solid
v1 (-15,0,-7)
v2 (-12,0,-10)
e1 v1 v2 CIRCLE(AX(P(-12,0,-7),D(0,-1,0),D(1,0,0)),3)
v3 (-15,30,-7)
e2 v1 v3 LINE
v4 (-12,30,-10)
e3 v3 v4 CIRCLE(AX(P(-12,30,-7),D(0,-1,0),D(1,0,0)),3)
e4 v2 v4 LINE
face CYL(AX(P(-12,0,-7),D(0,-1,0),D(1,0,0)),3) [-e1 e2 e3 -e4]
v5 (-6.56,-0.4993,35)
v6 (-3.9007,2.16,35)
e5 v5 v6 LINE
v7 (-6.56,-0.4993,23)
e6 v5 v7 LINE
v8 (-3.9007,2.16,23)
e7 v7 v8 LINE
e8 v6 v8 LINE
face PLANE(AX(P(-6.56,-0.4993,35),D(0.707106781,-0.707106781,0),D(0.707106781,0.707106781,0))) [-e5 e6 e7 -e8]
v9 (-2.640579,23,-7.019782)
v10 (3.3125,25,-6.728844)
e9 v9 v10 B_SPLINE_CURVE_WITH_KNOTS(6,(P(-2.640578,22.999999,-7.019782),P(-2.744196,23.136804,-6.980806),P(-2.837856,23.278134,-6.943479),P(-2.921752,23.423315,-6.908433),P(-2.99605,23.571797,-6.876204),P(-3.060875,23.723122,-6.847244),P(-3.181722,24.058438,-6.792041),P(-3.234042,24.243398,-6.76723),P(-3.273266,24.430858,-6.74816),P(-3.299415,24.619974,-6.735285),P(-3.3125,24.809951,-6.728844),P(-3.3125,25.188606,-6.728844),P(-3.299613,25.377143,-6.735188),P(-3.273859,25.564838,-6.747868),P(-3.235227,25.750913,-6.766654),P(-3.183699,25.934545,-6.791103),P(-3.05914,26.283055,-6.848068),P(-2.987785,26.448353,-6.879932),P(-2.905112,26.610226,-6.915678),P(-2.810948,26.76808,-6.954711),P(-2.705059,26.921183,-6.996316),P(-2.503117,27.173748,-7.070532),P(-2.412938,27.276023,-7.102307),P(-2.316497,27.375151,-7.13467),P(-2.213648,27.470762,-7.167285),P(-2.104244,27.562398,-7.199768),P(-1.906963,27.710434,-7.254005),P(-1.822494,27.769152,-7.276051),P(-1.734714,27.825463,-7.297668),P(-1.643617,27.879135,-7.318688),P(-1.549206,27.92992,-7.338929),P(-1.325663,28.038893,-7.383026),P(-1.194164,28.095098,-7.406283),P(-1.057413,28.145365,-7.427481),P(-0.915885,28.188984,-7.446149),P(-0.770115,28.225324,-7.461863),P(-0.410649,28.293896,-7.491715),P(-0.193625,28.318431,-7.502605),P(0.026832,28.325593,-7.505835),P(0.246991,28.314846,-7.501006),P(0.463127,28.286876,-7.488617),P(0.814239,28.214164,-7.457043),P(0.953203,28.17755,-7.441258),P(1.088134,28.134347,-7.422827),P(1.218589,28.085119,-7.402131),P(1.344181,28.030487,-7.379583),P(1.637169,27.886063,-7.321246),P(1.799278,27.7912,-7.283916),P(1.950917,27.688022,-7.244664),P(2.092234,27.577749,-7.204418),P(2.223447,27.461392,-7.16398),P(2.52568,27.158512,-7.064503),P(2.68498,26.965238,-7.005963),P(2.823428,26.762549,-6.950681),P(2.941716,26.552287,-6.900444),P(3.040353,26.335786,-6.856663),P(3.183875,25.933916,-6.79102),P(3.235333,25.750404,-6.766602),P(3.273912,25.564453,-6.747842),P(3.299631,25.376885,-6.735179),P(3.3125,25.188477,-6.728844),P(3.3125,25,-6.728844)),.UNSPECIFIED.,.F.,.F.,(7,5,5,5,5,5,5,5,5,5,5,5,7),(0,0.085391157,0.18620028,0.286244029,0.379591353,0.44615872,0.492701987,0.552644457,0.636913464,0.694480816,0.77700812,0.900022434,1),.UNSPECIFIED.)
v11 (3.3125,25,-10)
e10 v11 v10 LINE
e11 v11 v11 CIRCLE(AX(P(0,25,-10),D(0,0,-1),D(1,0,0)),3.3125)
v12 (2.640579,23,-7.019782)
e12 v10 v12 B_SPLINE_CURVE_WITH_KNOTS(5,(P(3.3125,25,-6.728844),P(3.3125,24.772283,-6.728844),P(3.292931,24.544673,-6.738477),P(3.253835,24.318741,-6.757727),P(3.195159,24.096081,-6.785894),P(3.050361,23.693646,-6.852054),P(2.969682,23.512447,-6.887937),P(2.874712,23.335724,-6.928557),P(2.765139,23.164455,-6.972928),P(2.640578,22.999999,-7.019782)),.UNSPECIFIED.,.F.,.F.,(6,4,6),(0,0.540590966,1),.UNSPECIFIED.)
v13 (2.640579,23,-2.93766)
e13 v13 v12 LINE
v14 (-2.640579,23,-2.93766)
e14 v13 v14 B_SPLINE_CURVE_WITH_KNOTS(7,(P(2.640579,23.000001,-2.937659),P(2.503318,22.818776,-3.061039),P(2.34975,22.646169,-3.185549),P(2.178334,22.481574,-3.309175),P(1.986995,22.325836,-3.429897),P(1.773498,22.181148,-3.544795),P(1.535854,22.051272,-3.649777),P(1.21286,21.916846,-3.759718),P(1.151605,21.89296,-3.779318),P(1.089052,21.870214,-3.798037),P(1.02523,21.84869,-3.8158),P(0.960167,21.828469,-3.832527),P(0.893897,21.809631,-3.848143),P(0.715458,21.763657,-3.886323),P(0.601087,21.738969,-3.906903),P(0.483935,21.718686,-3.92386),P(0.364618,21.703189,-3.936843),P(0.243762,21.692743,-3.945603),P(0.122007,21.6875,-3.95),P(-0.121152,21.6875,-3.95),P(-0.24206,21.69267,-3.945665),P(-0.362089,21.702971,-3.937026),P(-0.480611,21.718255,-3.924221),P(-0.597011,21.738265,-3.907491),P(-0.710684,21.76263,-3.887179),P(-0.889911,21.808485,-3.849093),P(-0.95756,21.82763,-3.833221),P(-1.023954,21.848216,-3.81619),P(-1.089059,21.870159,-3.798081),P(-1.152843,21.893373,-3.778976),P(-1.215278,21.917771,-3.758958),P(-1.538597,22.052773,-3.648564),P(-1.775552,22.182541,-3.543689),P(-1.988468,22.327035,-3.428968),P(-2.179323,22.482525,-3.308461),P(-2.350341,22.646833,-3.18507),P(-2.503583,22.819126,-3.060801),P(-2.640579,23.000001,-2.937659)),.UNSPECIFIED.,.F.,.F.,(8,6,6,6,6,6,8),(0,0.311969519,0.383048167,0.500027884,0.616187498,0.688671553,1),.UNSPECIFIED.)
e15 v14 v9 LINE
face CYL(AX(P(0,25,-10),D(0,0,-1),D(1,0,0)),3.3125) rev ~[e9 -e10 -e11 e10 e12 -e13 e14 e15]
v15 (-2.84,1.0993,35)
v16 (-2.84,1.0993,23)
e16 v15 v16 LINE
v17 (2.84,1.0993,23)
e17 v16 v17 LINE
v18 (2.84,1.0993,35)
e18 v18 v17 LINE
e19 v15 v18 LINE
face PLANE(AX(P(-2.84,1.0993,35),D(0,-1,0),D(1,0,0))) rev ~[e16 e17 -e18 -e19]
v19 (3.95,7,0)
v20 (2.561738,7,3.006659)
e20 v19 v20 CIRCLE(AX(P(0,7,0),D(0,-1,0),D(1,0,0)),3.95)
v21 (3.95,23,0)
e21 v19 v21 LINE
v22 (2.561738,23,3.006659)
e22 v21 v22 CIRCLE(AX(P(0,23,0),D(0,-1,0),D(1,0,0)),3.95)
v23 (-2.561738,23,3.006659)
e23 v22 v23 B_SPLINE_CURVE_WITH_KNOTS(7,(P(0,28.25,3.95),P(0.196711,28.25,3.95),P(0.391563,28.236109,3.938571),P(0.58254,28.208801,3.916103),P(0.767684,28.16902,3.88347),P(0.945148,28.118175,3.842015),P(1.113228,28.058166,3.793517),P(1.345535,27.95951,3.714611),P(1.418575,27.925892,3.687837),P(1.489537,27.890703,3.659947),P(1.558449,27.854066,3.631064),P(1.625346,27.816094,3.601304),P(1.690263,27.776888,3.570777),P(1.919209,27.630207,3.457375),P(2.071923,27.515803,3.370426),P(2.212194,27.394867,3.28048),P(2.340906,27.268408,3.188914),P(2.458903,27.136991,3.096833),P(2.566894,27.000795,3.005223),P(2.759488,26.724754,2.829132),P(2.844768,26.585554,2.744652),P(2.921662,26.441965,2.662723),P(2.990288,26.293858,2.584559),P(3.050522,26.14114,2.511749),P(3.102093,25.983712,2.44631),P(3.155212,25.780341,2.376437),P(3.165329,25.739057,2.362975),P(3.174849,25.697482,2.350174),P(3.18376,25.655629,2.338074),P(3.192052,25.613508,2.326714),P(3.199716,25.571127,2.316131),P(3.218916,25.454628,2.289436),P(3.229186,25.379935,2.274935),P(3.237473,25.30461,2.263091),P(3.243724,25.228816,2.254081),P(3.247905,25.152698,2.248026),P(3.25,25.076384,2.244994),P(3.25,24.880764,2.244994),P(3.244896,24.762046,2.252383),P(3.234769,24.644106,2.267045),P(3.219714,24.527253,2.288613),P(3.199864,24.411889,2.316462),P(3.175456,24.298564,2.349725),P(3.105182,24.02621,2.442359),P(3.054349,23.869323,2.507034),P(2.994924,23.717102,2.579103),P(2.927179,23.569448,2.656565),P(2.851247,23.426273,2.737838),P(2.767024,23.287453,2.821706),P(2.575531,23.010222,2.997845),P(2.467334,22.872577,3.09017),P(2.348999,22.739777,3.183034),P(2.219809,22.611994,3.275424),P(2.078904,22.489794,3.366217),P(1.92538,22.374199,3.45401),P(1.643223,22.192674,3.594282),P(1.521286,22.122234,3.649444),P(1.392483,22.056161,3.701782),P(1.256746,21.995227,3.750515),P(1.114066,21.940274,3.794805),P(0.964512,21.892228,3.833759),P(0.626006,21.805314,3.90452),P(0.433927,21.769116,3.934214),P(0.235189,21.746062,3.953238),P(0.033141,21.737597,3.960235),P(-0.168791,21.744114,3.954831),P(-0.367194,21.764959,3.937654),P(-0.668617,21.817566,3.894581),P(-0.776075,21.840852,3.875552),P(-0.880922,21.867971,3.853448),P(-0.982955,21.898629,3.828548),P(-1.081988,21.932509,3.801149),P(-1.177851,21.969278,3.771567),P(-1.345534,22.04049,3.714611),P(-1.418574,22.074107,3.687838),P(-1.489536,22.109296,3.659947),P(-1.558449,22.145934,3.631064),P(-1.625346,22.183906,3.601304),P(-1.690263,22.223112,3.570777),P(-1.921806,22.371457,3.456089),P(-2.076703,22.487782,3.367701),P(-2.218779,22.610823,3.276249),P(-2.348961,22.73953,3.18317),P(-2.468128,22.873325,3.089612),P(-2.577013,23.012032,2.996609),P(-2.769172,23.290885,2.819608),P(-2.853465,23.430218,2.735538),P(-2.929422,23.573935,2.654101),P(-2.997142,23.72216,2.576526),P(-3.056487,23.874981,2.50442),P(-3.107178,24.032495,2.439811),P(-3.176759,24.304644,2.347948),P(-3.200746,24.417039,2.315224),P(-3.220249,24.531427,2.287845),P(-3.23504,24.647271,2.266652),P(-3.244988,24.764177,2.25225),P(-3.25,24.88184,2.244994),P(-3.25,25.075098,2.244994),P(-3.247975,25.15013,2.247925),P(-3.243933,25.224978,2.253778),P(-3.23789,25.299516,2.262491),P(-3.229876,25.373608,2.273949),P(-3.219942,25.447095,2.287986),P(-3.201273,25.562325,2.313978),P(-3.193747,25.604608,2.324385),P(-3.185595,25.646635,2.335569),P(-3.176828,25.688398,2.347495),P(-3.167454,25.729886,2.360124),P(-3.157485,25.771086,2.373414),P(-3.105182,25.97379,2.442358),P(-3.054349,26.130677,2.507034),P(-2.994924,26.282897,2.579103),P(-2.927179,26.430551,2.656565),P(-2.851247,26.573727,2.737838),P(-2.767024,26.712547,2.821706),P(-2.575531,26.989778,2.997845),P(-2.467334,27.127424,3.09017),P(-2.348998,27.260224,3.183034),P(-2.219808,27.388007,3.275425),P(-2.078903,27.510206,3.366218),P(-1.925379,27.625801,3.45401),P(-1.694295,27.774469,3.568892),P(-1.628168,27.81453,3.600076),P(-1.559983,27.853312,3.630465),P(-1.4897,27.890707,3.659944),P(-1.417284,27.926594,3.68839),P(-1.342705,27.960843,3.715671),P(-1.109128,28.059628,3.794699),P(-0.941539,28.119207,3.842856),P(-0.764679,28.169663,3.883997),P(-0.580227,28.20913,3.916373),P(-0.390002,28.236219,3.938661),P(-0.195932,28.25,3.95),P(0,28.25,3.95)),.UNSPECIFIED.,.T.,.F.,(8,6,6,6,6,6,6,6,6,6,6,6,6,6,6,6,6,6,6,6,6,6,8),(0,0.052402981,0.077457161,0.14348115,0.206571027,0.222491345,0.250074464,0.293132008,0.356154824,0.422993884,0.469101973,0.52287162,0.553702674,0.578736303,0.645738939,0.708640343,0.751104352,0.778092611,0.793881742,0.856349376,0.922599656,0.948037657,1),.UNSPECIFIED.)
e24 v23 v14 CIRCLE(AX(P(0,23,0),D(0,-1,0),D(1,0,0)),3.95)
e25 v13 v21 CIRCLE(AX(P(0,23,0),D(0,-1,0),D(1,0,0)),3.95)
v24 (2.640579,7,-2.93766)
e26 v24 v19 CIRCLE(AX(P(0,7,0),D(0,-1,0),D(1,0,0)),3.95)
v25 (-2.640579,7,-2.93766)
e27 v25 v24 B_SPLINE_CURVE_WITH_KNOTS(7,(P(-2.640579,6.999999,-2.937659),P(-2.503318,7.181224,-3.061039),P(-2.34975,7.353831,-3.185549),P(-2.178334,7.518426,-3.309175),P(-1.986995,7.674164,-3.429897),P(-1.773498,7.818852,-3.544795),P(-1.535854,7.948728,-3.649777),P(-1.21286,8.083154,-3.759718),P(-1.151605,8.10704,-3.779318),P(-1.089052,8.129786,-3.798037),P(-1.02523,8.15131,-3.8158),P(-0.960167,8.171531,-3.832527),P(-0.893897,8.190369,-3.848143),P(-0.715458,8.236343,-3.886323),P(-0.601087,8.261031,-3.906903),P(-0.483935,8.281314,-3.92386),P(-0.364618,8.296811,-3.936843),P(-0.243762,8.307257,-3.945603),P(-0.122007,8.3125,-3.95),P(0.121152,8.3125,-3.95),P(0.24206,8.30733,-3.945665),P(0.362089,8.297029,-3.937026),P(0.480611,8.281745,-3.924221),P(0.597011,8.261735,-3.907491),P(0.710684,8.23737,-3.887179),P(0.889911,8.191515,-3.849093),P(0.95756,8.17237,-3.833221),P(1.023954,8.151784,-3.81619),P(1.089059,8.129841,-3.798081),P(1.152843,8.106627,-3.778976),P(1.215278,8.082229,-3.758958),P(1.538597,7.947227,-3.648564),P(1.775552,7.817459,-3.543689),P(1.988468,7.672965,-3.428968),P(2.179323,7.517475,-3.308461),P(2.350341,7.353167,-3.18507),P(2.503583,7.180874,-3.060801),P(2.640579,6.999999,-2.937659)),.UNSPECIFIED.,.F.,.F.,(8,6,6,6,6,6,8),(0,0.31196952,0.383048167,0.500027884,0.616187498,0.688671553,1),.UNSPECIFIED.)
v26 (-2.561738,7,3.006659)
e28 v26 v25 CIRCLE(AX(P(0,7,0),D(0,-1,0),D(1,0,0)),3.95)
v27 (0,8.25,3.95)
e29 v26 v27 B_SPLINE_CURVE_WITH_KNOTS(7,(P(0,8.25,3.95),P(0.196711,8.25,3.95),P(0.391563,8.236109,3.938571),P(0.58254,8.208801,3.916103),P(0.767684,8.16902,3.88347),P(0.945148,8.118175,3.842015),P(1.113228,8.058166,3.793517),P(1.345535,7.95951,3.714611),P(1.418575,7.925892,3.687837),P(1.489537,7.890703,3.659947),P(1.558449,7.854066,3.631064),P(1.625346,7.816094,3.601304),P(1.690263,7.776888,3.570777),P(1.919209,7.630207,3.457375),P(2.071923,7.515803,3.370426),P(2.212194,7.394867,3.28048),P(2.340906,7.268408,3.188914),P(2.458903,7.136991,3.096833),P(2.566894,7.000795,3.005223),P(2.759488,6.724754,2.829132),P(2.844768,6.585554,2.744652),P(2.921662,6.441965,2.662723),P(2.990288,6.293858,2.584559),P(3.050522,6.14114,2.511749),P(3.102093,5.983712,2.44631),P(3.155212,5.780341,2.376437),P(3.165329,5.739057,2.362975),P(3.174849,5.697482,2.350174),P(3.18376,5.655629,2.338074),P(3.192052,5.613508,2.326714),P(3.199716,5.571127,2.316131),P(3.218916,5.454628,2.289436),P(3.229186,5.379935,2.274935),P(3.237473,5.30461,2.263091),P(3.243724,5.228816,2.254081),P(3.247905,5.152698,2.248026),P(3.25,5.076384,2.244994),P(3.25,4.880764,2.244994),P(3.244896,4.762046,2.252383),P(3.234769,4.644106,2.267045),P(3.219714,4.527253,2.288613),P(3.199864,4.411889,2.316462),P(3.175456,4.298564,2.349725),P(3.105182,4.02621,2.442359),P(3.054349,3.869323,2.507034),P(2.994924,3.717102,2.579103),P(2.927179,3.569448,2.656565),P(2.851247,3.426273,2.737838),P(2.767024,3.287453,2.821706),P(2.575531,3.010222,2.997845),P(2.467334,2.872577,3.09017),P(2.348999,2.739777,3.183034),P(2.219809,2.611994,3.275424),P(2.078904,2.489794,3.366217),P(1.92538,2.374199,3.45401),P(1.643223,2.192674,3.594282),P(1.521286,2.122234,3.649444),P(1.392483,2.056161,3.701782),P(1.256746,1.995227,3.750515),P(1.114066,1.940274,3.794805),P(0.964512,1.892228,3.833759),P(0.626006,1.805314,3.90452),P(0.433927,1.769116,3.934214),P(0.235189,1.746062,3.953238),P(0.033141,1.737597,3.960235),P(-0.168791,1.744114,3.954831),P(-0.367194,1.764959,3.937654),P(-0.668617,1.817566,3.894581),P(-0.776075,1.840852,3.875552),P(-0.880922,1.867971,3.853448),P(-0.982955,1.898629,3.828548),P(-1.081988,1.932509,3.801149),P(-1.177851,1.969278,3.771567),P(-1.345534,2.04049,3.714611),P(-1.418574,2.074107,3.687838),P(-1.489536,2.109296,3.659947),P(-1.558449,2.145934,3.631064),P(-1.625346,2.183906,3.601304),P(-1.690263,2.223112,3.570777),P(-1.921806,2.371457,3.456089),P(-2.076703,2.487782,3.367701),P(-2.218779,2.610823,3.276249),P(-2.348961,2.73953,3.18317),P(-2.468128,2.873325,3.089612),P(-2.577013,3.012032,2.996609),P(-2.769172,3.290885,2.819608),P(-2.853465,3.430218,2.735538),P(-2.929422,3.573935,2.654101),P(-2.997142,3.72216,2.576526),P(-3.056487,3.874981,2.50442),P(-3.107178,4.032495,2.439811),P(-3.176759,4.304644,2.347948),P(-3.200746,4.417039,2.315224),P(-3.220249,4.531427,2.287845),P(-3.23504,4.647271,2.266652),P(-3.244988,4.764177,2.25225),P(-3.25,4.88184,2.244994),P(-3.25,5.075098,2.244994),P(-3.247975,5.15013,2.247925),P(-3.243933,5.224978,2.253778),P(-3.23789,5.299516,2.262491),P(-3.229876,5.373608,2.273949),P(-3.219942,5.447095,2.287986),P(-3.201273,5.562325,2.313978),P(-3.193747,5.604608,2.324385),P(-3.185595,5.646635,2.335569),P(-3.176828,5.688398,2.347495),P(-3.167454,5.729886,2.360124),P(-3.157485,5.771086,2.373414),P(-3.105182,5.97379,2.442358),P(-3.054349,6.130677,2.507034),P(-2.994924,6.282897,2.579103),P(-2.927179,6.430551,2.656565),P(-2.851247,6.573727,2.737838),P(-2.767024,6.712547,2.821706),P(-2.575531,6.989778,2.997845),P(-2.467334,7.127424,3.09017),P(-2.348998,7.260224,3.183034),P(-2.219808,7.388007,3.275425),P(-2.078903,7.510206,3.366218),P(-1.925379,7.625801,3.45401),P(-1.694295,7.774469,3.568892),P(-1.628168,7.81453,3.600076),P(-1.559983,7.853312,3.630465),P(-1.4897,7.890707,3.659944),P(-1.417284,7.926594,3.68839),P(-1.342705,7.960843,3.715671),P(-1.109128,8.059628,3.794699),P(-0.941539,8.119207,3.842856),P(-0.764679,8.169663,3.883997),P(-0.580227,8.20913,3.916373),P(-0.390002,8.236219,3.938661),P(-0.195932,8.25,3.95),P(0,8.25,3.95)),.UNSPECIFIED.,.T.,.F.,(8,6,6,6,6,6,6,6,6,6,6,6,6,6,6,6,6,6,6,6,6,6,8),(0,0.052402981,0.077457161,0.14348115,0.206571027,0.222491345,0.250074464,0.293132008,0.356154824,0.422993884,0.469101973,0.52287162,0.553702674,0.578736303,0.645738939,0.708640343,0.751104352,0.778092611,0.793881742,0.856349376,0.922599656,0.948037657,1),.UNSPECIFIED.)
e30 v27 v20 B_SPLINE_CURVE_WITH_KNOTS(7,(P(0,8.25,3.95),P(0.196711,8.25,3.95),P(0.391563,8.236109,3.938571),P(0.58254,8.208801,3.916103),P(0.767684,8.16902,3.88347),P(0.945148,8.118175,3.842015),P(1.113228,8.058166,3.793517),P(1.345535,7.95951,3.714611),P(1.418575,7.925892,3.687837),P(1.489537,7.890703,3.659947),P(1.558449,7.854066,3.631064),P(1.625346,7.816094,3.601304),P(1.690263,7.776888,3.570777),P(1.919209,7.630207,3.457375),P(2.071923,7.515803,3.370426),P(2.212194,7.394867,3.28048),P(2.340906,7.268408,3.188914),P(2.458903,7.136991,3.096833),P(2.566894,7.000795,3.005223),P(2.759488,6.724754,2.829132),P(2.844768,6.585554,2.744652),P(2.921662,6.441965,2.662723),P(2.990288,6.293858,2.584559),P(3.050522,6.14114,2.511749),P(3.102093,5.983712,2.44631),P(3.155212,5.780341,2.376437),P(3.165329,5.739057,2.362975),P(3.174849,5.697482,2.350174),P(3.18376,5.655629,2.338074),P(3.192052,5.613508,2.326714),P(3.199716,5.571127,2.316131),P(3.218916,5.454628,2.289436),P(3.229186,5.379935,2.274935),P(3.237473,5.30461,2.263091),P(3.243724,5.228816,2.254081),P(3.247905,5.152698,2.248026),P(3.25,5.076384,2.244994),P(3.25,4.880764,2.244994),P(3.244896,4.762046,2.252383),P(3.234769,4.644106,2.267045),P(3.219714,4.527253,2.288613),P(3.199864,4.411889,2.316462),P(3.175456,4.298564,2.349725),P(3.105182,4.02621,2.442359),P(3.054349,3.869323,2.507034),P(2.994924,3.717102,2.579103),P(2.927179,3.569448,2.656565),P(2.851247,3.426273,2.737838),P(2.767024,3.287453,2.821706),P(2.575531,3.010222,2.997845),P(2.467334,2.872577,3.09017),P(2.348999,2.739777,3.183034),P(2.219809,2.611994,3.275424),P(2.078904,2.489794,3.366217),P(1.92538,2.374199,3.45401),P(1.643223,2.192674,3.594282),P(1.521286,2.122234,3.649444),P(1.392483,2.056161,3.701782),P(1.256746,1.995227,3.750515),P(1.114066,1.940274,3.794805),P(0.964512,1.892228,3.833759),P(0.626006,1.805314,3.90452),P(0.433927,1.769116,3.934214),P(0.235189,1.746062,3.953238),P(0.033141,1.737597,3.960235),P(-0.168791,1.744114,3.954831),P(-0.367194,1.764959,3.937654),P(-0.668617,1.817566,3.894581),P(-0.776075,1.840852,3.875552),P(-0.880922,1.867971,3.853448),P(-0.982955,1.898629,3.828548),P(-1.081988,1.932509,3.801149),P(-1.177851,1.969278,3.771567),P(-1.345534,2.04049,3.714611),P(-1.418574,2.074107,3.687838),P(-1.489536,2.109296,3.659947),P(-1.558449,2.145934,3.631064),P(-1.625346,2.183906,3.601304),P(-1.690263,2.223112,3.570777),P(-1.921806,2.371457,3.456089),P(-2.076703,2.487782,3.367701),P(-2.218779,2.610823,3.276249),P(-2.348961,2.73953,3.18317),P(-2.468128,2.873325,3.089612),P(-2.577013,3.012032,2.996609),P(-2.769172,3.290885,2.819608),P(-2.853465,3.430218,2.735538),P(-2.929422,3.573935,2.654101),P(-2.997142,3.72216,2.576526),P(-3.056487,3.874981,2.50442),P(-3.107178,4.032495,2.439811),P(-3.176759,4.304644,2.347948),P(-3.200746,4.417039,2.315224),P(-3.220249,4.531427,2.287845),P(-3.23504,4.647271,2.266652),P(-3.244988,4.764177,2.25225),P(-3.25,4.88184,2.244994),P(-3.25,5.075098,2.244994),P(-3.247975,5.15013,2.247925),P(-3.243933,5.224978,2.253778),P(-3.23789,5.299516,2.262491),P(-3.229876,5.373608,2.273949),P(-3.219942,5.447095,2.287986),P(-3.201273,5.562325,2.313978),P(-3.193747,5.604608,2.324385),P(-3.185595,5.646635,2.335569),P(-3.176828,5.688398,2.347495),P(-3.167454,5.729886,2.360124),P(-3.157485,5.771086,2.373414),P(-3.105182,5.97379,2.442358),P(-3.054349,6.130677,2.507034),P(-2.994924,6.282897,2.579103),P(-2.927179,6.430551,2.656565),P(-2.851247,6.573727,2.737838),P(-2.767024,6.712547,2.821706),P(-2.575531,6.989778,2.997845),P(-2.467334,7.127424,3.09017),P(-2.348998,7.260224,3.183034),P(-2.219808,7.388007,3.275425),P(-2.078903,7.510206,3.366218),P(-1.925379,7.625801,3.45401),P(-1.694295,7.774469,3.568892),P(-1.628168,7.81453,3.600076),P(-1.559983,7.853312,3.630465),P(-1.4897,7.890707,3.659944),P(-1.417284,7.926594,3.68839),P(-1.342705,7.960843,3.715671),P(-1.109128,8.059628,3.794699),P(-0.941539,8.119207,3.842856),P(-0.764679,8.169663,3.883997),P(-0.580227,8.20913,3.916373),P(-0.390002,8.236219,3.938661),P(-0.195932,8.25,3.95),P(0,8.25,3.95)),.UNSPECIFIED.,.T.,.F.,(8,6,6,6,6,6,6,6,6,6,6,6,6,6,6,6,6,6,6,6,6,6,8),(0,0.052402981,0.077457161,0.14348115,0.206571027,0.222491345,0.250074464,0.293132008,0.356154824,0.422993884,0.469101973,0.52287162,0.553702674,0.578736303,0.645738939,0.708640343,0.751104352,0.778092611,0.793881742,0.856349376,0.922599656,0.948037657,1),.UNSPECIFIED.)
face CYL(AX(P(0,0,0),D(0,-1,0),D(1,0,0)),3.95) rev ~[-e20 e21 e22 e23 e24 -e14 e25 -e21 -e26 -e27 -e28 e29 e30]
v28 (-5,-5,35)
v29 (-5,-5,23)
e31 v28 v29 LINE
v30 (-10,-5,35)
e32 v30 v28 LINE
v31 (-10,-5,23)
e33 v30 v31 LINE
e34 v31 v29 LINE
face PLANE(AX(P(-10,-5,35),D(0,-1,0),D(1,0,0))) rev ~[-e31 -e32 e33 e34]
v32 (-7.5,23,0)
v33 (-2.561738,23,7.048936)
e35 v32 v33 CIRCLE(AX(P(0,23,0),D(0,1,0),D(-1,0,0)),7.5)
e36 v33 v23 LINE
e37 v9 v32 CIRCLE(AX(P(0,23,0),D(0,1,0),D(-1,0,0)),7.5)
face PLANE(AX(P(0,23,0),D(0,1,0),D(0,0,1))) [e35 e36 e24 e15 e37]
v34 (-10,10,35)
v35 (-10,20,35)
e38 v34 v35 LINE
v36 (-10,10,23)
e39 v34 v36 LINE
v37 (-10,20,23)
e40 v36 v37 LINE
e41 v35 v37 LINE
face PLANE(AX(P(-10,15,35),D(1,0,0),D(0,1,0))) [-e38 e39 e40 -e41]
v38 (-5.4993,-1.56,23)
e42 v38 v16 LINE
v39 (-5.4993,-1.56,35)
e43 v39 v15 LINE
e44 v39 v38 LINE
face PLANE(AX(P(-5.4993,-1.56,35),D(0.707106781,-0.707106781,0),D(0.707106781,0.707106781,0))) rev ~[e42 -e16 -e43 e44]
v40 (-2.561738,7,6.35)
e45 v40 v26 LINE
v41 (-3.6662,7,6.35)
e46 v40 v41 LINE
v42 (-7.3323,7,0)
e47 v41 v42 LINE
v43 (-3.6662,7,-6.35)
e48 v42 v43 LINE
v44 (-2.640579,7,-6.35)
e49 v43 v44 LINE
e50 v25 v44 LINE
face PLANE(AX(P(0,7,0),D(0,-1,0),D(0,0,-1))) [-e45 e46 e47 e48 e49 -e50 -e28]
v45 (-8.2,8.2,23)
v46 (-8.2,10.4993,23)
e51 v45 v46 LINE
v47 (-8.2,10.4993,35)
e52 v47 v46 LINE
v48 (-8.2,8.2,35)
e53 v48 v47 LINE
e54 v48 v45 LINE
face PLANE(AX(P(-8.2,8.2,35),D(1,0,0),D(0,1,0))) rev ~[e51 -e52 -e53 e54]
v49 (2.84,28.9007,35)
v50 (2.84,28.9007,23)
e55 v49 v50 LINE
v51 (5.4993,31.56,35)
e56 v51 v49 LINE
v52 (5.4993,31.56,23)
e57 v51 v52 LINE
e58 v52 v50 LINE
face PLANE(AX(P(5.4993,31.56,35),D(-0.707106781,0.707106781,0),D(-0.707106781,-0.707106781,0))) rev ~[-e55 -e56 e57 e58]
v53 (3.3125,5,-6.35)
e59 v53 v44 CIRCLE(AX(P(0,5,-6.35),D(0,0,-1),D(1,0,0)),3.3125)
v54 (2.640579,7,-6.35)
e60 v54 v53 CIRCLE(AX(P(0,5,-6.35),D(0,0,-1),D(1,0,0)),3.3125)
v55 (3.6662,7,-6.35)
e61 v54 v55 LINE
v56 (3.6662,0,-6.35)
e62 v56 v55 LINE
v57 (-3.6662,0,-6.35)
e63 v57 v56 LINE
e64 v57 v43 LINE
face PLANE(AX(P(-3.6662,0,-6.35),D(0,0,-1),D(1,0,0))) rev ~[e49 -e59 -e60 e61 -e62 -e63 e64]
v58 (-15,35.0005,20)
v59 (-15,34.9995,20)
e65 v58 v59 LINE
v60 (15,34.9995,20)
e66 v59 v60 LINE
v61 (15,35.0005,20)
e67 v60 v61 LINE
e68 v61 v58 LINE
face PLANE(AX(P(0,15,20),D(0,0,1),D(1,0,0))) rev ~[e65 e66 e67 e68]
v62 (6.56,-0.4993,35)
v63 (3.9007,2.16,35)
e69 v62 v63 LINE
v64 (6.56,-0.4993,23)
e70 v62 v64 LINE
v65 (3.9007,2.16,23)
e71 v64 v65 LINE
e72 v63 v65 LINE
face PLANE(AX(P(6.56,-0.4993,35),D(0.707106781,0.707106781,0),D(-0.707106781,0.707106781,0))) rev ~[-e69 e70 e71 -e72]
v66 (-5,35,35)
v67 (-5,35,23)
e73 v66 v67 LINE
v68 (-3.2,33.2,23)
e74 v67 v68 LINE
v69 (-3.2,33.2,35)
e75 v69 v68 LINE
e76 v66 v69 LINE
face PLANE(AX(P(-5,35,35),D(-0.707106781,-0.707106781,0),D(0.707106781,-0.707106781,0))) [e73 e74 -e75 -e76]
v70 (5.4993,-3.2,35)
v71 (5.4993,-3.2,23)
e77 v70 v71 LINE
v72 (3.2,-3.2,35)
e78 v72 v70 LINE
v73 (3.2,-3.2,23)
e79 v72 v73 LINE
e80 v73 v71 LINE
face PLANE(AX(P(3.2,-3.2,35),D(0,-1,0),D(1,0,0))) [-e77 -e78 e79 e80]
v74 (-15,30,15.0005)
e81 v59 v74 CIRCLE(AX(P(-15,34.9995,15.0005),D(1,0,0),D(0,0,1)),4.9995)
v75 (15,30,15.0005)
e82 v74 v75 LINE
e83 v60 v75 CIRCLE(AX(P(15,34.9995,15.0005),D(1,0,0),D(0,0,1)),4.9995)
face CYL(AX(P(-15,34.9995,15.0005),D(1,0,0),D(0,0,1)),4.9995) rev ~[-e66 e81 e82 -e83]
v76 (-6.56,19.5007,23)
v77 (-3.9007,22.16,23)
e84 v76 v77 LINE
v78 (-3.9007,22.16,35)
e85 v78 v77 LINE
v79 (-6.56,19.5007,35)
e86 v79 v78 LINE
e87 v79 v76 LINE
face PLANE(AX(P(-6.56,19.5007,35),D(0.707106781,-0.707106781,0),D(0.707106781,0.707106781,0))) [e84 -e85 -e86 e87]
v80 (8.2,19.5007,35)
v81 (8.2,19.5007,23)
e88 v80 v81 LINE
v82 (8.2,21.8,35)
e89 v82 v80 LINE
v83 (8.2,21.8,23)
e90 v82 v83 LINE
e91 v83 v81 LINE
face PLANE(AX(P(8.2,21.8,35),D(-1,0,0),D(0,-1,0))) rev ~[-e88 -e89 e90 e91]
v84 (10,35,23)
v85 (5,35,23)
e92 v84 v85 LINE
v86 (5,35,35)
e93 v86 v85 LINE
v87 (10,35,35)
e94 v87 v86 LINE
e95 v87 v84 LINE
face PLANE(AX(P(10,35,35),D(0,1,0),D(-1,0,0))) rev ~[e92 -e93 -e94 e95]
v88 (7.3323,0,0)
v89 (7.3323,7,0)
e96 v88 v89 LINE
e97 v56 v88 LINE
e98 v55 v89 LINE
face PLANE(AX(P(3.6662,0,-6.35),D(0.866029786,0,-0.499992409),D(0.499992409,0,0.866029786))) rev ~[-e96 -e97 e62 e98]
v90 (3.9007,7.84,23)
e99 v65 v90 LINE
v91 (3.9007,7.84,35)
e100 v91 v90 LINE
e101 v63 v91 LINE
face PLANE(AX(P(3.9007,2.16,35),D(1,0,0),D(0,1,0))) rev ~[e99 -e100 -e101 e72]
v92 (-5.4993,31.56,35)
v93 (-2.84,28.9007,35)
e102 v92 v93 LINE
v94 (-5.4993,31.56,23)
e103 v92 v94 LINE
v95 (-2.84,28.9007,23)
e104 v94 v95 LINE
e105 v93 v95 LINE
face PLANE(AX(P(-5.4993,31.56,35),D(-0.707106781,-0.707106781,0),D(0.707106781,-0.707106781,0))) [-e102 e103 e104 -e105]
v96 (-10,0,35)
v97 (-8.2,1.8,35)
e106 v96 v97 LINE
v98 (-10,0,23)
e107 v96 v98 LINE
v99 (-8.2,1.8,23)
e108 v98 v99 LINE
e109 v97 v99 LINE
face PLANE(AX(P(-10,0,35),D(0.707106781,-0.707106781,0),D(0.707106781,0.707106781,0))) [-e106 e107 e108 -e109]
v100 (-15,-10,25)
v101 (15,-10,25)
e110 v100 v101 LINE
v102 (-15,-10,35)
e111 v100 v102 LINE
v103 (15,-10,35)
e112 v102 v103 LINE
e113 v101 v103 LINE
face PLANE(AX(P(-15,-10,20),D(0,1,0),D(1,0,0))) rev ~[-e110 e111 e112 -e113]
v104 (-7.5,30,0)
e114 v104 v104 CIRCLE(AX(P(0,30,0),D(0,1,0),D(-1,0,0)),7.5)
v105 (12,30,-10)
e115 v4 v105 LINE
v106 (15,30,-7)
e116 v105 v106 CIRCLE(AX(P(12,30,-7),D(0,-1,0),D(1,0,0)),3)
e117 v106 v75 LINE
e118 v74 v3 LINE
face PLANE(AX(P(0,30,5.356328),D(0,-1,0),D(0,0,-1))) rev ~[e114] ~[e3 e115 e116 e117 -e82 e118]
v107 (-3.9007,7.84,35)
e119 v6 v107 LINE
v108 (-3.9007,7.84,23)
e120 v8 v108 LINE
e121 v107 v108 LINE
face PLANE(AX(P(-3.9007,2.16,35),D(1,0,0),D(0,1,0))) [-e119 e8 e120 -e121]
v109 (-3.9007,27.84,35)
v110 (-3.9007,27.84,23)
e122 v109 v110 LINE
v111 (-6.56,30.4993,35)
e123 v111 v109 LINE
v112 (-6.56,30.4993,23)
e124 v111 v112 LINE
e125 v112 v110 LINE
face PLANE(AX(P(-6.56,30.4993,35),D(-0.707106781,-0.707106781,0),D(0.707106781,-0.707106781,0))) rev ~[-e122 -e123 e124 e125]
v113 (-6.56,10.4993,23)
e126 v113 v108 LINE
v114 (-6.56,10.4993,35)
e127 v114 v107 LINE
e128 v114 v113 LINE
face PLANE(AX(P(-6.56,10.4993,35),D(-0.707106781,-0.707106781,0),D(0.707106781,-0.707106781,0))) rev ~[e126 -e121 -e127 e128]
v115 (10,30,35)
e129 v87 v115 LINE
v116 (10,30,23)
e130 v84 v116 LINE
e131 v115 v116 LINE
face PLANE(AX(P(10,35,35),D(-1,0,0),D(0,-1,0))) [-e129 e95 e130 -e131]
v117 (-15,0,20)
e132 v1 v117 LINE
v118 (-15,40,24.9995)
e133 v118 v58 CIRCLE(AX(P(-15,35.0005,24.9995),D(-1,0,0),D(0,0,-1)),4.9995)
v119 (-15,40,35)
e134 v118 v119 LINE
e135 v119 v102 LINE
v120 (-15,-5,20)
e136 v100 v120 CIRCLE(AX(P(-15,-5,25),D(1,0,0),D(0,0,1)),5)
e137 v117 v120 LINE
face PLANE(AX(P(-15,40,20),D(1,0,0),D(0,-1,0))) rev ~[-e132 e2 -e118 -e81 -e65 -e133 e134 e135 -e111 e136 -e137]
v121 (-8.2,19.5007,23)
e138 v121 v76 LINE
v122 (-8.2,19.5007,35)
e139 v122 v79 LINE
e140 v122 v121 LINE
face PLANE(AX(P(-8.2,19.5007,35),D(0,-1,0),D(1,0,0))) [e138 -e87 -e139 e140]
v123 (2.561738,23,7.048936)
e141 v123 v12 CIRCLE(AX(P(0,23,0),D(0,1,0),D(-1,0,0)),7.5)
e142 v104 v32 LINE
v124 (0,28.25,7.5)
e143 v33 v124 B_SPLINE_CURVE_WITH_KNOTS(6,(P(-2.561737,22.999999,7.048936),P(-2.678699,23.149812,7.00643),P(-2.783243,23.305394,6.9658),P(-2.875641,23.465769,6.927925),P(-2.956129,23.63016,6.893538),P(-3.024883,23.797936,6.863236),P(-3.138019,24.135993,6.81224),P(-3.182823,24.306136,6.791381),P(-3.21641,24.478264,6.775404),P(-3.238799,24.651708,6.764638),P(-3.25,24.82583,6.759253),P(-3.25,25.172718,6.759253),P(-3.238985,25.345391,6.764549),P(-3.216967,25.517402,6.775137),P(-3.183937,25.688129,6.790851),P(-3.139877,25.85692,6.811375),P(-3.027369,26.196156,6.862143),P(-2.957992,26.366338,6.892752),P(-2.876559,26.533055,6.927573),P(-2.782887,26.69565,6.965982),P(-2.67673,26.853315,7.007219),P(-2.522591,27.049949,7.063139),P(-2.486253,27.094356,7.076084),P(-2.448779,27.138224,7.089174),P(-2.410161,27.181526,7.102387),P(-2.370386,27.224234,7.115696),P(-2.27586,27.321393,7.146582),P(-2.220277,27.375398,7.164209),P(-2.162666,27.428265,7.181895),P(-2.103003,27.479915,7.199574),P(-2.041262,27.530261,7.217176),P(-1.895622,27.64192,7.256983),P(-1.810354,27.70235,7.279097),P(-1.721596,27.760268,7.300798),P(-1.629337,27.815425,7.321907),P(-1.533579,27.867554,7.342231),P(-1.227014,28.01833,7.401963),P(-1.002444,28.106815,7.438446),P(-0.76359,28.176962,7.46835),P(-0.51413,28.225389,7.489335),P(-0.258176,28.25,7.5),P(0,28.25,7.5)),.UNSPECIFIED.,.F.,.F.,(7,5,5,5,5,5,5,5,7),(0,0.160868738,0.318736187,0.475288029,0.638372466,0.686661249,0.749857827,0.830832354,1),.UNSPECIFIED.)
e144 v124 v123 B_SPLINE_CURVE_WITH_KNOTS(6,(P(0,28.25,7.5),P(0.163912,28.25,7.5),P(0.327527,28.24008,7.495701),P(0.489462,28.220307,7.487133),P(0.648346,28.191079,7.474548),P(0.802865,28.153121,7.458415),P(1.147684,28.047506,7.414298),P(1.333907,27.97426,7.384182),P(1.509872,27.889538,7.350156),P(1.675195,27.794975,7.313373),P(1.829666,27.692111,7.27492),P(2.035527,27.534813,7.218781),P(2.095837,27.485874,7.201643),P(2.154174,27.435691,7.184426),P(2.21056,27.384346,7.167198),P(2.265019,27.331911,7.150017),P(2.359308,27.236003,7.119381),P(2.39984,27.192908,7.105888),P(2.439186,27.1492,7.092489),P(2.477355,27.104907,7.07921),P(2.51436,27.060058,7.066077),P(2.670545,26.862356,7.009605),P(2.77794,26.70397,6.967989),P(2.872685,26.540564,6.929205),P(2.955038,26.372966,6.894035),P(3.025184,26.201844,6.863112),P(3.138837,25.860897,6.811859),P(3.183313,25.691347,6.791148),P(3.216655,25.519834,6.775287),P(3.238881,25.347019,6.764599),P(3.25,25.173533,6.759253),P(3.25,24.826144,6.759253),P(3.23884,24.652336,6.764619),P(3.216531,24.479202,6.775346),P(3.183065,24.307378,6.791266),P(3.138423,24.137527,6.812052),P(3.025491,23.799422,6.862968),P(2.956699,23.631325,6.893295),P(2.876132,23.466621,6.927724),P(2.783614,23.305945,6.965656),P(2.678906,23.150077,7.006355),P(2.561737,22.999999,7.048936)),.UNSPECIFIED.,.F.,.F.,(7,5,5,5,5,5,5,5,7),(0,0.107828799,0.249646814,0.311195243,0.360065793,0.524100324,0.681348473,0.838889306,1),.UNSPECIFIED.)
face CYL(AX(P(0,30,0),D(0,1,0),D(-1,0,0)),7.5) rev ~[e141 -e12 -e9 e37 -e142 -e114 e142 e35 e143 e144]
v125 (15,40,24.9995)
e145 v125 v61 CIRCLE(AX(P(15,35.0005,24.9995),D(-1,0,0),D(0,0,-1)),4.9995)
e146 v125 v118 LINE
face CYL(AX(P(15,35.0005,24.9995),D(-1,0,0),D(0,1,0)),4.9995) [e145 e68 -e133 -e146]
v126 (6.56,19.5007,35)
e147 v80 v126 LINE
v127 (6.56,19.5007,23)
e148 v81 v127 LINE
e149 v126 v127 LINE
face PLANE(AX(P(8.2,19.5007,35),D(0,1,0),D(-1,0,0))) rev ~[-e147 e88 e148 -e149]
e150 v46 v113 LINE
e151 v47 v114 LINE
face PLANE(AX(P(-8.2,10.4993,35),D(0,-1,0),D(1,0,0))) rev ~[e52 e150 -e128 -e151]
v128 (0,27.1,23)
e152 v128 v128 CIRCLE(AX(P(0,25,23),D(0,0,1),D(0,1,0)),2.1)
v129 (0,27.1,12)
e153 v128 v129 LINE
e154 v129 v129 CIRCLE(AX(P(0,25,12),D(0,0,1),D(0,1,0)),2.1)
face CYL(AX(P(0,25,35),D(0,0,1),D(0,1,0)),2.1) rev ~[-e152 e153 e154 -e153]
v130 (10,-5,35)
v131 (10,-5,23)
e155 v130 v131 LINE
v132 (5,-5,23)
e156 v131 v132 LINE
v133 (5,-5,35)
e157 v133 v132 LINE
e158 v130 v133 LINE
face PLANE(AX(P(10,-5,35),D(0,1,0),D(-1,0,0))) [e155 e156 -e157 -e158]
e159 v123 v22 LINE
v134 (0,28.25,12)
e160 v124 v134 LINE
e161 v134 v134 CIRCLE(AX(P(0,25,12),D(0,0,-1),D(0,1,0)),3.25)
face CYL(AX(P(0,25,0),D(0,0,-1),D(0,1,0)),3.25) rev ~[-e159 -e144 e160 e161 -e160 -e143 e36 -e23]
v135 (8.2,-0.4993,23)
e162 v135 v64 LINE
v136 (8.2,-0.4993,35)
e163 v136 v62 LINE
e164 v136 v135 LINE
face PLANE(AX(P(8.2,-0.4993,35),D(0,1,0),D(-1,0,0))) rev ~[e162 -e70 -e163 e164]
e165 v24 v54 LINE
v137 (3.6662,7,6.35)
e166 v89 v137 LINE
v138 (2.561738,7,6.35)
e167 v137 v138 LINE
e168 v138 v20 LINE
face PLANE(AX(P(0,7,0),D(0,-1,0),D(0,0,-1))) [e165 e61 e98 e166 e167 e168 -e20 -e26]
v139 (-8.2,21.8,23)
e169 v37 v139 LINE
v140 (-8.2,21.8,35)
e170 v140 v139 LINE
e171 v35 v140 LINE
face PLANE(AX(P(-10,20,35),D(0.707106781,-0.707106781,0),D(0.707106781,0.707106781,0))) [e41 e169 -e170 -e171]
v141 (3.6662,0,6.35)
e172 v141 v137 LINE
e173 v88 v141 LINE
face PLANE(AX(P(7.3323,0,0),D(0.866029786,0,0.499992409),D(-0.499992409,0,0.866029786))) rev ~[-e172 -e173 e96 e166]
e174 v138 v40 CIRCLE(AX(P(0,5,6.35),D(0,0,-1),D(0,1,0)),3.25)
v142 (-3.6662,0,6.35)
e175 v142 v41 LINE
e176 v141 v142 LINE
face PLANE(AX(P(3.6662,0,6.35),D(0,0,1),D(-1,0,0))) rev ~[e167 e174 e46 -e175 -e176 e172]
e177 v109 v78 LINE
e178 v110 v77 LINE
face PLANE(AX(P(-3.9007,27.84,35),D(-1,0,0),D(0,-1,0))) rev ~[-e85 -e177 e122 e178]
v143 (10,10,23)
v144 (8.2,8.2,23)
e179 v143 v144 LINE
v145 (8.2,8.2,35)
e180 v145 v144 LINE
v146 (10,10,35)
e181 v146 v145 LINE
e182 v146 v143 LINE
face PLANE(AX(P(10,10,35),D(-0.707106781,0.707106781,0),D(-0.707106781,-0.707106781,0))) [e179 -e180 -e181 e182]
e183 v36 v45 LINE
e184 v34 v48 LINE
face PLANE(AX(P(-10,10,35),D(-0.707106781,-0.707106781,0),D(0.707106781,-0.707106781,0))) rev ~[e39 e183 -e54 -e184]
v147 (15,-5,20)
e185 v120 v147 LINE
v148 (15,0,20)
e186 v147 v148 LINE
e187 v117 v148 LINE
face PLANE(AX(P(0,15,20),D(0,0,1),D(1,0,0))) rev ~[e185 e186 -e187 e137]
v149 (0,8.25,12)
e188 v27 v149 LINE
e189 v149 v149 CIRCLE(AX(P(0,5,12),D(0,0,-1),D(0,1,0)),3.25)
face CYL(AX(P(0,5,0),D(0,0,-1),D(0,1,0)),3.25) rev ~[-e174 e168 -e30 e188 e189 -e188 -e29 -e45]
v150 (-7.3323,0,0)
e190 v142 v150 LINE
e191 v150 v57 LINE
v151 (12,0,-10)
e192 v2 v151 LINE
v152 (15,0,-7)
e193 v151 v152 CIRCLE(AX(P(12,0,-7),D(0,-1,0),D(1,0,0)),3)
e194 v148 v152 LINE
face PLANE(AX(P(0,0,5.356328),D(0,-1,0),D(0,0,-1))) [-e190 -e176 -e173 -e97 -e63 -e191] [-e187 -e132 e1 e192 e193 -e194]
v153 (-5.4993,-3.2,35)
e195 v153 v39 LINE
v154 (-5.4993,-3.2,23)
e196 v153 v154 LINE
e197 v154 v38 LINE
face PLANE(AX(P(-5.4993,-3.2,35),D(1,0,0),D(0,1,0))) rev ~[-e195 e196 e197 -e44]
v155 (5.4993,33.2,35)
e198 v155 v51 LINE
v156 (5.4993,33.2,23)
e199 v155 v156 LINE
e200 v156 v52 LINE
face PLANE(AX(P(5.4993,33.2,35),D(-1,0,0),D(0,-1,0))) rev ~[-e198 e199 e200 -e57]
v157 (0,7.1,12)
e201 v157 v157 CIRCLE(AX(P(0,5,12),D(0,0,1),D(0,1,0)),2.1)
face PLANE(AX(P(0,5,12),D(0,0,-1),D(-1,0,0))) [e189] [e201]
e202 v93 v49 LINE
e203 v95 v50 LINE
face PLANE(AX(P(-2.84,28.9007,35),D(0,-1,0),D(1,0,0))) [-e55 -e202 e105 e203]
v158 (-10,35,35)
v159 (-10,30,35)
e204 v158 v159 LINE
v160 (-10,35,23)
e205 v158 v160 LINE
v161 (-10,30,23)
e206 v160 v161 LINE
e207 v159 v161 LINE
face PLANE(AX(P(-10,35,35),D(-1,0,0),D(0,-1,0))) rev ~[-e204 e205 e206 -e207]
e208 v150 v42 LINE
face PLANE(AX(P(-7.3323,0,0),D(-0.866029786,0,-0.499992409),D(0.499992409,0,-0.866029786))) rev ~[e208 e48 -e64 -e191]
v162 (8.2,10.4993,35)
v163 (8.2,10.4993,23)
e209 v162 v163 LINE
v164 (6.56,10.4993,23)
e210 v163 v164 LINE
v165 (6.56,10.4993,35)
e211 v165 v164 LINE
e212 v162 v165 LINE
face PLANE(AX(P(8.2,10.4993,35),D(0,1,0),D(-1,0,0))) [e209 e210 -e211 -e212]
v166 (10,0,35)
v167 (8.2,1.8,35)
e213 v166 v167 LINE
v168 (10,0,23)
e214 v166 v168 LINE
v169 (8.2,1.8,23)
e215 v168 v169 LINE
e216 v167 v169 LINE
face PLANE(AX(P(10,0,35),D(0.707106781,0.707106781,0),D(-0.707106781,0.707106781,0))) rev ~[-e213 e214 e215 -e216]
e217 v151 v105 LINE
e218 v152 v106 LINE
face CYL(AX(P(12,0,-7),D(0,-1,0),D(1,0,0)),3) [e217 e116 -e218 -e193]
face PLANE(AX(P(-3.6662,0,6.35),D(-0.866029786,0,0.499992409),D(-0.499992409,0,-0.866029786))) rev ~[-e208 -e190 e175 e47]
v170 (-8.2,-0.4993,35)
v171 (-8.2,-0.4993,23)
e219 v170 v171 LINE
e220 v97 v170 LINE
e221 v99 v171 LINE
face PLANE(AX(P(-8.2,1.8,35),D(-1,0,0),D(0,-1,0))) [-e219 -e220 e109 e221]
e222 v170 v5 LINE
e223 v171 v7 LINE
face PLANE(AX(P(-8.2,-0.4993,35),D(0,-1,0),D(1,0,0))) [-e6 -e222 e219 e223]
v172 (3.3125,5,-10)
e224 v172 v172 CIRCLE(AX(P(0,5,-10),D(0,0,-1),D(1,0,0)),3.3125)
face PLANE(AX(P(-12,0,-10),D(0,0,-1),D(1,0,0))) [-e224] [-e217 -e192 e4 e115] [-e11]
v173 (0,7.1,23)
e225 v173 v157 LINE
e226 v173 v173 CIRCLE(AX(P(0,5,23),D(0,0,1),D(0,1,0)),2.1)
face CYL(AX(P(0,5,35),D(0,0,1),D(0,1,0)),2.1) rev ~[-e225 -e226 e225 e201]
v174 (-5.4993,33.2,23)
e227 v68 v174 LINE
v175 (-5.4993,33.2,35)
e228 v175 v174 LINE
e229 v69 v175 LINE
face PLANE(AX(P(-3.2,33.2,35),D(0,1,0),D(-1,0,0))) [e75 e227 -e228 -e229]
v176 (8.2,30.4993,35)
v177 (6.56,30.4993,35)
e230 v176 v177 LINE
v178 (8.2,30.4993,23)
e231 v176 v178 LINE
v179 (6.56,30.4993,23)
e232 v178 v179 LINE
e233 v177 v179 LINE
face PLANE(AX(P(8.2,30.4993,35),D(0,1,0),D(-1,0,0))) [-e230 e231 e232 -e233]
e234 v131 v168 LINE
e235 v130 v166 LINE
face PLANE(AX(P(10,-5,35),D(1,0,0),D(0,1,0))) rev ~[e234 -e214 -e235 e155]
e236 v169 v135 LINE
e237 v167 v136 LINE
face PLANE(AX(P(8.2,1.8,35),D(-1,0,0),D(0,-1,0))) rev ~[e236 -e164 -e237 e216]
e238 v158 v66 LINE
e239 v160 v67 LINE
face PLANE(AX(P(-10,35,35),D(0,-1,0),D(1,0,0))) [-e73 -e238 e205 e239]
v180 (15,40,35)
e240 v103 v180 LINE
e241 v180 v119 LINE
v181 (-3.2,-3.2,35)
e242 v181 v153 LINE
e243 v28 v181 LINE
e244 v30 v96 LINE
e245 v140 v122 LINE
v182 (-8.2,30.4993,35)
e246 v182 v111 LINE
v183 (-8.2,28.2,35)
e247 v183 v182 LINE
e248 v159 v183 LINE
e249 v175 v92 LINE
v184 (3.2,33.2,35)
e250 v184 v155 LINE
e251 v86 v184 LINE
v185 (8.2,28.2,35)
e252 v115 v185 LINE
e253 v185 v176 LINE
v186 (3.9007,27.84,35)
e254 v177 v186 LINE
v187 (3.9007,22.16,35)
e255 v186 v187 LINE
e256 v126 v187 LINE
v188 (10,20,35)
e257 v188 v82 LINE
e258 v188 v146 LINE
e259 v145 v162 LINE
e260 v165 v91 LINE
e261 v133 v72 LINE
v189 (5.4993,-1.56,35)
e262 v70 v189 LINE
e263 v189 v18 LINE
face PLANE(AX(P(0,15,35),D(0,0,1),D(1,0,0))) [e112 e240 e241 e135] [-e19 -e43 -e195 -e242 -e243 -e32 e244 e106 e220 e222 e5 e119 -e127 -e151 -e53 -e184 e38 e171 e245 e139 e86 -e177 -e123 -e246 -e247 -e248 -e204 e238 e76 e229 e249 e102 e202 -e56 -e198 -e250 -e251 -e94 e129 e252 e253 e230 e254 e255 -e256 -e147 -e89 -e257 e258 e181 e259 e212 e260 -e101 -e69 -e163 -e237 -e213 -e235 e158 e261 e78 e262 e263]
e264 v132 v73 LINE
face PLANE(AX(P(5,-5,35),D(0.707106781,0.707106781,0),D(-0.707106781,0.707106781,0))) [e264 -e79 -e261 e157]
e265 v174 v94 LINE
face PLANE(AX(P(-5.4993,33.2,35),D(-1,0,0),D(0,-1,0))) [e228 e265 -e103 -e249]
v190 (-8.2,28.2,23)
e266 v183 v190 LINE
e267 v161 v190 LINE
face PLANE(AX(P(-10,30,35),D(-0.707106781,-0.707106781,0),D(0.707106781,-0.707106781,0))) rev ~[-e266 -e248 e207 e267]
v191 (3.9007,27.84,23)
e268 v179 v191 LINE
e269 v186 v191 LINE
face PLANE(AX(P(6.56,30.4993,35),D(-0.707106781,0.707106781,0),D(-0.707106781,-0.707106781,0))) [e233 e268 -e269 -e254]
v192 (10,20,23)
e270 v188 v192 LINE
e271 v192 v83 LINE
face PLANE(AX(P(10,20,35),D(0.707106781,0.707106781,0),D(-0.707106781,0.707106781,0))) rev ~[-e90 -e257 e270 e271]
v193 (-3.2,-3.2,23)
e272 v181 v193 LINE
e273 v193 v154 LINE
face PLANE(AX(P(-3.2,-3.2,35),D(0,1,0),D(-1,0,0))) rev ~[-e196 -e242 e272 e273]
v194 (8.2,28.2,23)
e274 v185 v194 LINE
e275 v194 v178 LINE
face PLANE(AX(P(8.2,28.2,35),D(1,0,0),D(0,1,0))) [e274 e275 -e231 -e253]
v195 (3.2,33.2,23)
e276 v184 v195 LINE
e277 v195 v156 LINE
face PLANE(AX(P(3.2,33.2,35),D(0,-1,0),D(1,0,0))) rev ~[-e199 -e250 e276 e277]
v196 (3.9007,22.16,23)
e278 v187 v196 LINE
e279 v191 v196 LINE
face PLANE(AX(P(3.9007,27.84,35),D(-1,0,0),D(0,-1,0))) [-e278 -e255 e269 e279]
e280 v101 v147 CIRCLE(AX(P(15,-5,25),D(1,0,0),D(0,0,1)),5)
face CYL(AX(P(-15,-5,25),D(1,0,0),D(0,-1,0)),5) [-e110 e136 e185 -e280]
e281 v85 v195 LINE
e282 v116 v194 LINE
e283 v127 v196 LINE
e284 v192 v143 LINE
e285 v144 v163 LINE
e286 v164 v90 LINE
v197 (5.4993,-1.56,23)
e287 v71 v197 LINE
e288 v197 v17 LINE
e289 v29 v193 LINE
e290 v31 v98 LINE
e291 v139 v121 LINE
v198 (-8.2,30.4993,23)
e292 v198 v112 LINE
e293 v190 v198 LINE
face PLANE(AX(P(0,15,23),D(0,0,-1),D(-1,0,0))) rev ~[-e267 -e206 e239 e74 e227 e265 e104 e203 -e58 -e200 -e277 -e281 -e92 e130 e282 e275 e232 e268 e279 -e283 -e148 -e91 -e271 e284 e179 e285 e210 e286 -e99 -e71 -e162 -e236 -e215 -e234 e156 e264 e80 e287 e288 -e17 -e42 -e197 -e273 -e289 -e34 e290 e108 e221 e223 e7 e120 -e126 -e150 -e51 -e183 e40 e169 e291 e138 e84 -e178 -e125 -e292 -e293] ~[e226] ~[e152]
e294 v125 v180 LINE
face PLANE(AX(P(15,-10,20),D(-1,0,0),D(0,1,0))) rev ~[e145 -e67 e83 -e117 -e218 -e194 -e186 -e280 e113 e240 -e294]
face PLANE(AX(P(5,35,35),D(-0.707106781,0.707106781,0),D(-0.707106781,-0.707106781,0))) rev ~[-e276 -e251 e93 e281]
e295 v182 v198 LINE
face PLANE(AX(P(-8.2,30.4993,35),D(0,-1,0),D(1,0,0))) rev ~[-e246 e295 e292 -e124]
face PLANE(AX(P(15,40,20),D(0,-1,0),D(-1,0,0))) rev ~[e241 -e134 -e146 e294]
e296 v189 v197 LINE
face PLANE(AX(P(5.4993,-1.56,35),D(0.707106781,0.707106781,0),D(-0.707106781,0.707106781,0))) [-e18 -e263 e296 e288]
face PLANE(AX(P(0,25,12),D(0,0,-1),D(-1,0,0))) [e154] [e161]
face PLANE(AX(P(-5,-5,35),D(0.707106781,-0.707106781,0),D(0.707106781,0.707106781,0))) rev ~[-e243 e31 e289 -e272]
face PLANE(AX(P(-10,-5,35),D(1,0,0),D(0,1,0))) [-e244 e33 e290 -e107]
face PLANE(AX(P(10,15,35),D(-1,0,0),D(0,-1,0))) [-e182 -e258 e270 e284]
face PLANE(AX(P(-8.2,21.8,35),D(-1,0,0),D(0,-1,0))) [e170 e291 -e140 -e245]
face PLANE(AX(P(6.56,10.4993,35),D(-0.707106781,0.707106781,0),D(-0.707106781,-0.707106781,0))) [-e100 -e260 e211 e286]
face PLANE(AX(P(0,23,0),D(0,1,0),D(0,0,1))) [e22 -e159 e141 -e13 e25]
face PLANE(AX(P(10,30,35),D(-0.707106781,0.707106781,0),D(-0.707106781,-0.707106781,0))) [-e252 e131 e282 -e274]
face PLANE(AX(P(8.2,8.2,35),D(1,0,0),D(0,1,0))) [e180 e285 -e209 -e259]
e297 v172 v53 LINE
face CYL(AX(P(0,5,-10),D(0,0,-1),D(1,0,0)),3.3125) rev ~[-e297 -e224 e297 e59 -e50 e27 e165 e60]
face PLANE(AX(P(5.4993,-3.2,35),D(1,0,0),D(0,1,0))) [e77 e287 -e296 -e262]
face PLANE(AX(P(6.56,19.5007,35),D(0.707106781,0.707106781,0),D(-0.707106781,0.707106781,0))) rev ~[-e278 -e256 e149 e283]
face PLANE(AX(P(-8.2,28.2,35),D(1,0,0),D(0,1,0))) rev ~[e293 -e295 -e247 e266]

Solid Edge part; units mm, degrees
sketch "Sketch1" plane through (0, 0, 0) normal (0, -1, 0) x (1, 0, 0)
  line L0 (-15, 20) -> (-15, 0)
  line L1 (-15, 0) -> (-15, -7)
  arc A0 (-15, -7) -> (-12, -10) centre (-12, -7) ccw
  line L2 (-12, -10) -> (12, -10)
  arc A1 (12, -10) -> (15, -7) centre (12, -7) ccw
  line L3 (15, -7) -> (15, 0)
  line L4 (15, 0) -> (15, 20)
  line L5 (-15, 20) -> (15, 20)
extrude "Protrusion1" add sketch "Sketch1" against normal blind 30
sketch "Sketch2" plane through (0, 15, 20) normal (0, 0, 1) x (1, 0, 0)
  line L0 (-15, -25) -> (15, -25)
  line L1 (15, -25) -> (15, 25)
  line L2 (15, 25) -> (-15, 25)
  line L3 (-15, 25) -> (-15, -25)
extrude "ExtrudedProtrusion_2" add sketch "Sketch2" along normal blind 15
fillet "Round_1" radius 5 1 edges at (0, -10, 20)
sketch "Sketch3" plane through (0, 15, 35) normal (0, 0, 1) x (0, 1, 0)
  line L0 (-20, 10) -> (-15, 10)
  line L1 (-15, 10) -> (-13.2, 8.2)
  line L2 (-13.2, 8.2) -> (-15.4993, 8.2)
  line L3 (-15.4993, 8.2) -> (-15.4993, 6.56)
  line L4 (-15.4993, 6.56) -> (-12.84, 3.9007)
  line L5 (-12.84, 3.9007) -> (-7.16, 3.9007)
  line L6 (-4.5007, 6.56) -> (-7.16, 3.9007)
  line L7 (-4.5007, 8.2) -> (-4.5007, 6.56)
  line L8 (-6.8, 8.2) -> (-4.5007, 8.2)
  line L9 (-5, 10) -> (-6.8, 8.2)
  line L10 (0, 10) -> (-5, 10)
  line L11 (0, 10) -> (5, 10)
  line L12 (5, 10) -> (6.8, 8.2)
  line L13 (6.8, 8.2) -> (4.5007, 8.2)
  line L14 (4.5007, 8.2) -> (4.5007, 6.56)
  line L15 (4.5007, 6.56) -> (7.16, 3.9007)
  line L16 (12.84, 3.9007) -> (7.16, 3.9007)
  line L17 (15.4993, 6.56) -> (12.84, 3.9007)
  line L18 (15.4993, 8.2) -> (15.4993, 6.56)
  line L19 (13.2, 8.2) -> (15.4993, 8.2)
  line L20 (15, 10) -> (13.2, 8.2)
  line L21 (20, 10) -> (15, 10)
  line L22 (20, 10) -> (20, 5)
  line L23 (20, 5) -> (18.2, 3.2)
  line L24 (18.2, 3.2) -> (18.2, 5.4993)
  line L25 (18.2, 5.4993) -> (16.56, 5.4993)
  line L26 (16.56, 5.4993) -> (13.9007, 2.84)
  line L27 (13.9007, 2.84) -> (13.9007, -2.84)
  line L28 (16.56, -5.4993) -> (13.9007, -2.84)
  line L29 (18.2, -5.4993) -> (16.56, -5.4993)
  line L30 (18.2, -3.2) -> (18.2, -5.4993)
  line L31 (20, -5) -> (18.2, -3.2)
  line L32 (20, -10) -> (20, -5)
  line L33 (20, -10) -> (15, -10)
  line L34 (15, -10) -> (13.2, -8.2)
  line L35 (13.2, -8.2) -> (15.4993, -8.2)
  line L36 (15.4993, -8.2) -> (15.4993, -6.56)
  line L37 (15.4993, -6.56) -> (12.84, -3.9007)
  line L38 (12.84, -3.9007) -> (7.16, -3.9007)
  line L39 (4.5007, -6.56) -> (7.16, -3.9007)
  line L40 (4.5007, -8.2) -> (4.5007, -6.56)
  line L41 (6.8, -8.2) -> (4.5007, -8.2)
  line L42 (5, -10) -> (6.8, -8.2)
  line L43 (0, -10) -> (5, -10)
  line L44 (0, -10) -> (-5, -10)
  line L45 (-5, -10) -> (-6.8, -8.2)
  line L46 (-6.8, -8.2) -> (-4.5007, -8.2)
  line L47 (-4.5007, -8.2) -> (-4.5007, -6.56)
  line L48 (-4.5007, -6.56) -> (-7.16, -3.9007)
  line L49 (-12.84, -3.9007) -> (-7.16, -3.9007)
  line L50 (-15.4993, -6.56) -> (-12.84, -3.9007)
  line L51 (-15.4993, -8.2) -> (-15.4993, -6.56)
  line L52 (-13.2, -8.2) -> (-15.4993, -8.2)
  line L53 (-15, -10) -> (-13.2, -8.2)
  line L54 (-20, -10) -> (-15, -10)
  line L55 (-20, -10) -> (-20, -5)
  line L56 (-20, -5) -> (-18.2, -3.2)
  line L57 (-18.2, -3.2) -> (-18.2, -5.4993)
  line L58 (-18.2, -5.4993) -> (-16.56, -5.4993)
  line L59 (-16.56, -5.4993) -> (-13.9007, -2.84)
  line L60 (-13.9007, 2.84) -> (-13.9007, -2.84)
  line L61 (-16.56, 5.4993) -> (-13.9007, 2.84)
  line L62 (-18.2, 5.4993) -> (-16.56, 5.4993)
  line L63 (-18.2, 3.2) -> (-18.2, 5.4993)
  line L64 (-20, 5) -> (-18.2, 3.2)
  line L65 (-20, 10) -> (-20, 5)
extrude "ExtrudedCutout_1" cut sketch "Sketch3" against normal blind 12
sketch "Sketch4" plane through (0, 15, 35) normal (0, 0, 1) x (0, 1, 0)
  circle A0 centre (-10, 0) radius 2.1
  circle A1 centre (10, 0) radius 2.1
extrude "ExtrudedCutout_2" cut sketch "Sketch4" against normal blind 88
sketch "Sketch5" plane through (9.5, 15, 0) normal (0, 0, -1) x (0, 1, 0)
  circle A0 centre (-10, -9.5) radius 3.25
  circle A1 centre (10, -9.5) radius 3.25
extrude "ExtrudedCutout_4" cut sketch "Sketch5" against normal blind 12
fillet "Round_2" radius 5 2 edges at (0, 40, 20) (0, 30, 20)
sketch "Sketch6" plane through (0, 0, 0) normal (0, -1, 0) x (1, 0, 0)
  circle A0 centre (0, 0) radius 3.95
extrude "Cutout1" cut sketch "Sketch6" against normal blind 48
sketch "Sketch7" plane through (0, 30, 2.5) normal (0, 1, 0) x (-1, 0, 0)
  circle A0 centre (0, -2.5) radius 7.5
extrude "ExtrudedCutout_7" cut sketch "Sketch7" against normal blind 7
sketch "Sketch8" plane through (0, 0, 5) normal (0, -1, 0) x (1, 0, 0)
  line L0 (-3.6662, 1.35) -> (-7.3323, -5)
  line L1 (-7.3323, -5) -> (-3.6662, -11.35)
  line L2 (-3.6662, -11.35) -> (3.6662, -11.35)
  line L3 (3.6662, -11.35) -> (7.3323, -5)
  line L4 (7.3323, -5) -> (3.6662, 1.35)
  line L5 (3.6662, 1.35) -> (-3.6662, 1.35)
extrude "ExtrudedCutout_8" cut sketch "Sketch8" against normal blind 7
sketch "Sketch9" plane through (0, 15, -10) normal (0, 0, -1) x (1, 0, 0)
  circle A0 centre (0, 10) radius 3.3125
  circle A1 centre (0, -10) radius 3.3125
extrude "Cutout2" cut sketch "Sketch9" against normal up to vertex (10 mm away)
